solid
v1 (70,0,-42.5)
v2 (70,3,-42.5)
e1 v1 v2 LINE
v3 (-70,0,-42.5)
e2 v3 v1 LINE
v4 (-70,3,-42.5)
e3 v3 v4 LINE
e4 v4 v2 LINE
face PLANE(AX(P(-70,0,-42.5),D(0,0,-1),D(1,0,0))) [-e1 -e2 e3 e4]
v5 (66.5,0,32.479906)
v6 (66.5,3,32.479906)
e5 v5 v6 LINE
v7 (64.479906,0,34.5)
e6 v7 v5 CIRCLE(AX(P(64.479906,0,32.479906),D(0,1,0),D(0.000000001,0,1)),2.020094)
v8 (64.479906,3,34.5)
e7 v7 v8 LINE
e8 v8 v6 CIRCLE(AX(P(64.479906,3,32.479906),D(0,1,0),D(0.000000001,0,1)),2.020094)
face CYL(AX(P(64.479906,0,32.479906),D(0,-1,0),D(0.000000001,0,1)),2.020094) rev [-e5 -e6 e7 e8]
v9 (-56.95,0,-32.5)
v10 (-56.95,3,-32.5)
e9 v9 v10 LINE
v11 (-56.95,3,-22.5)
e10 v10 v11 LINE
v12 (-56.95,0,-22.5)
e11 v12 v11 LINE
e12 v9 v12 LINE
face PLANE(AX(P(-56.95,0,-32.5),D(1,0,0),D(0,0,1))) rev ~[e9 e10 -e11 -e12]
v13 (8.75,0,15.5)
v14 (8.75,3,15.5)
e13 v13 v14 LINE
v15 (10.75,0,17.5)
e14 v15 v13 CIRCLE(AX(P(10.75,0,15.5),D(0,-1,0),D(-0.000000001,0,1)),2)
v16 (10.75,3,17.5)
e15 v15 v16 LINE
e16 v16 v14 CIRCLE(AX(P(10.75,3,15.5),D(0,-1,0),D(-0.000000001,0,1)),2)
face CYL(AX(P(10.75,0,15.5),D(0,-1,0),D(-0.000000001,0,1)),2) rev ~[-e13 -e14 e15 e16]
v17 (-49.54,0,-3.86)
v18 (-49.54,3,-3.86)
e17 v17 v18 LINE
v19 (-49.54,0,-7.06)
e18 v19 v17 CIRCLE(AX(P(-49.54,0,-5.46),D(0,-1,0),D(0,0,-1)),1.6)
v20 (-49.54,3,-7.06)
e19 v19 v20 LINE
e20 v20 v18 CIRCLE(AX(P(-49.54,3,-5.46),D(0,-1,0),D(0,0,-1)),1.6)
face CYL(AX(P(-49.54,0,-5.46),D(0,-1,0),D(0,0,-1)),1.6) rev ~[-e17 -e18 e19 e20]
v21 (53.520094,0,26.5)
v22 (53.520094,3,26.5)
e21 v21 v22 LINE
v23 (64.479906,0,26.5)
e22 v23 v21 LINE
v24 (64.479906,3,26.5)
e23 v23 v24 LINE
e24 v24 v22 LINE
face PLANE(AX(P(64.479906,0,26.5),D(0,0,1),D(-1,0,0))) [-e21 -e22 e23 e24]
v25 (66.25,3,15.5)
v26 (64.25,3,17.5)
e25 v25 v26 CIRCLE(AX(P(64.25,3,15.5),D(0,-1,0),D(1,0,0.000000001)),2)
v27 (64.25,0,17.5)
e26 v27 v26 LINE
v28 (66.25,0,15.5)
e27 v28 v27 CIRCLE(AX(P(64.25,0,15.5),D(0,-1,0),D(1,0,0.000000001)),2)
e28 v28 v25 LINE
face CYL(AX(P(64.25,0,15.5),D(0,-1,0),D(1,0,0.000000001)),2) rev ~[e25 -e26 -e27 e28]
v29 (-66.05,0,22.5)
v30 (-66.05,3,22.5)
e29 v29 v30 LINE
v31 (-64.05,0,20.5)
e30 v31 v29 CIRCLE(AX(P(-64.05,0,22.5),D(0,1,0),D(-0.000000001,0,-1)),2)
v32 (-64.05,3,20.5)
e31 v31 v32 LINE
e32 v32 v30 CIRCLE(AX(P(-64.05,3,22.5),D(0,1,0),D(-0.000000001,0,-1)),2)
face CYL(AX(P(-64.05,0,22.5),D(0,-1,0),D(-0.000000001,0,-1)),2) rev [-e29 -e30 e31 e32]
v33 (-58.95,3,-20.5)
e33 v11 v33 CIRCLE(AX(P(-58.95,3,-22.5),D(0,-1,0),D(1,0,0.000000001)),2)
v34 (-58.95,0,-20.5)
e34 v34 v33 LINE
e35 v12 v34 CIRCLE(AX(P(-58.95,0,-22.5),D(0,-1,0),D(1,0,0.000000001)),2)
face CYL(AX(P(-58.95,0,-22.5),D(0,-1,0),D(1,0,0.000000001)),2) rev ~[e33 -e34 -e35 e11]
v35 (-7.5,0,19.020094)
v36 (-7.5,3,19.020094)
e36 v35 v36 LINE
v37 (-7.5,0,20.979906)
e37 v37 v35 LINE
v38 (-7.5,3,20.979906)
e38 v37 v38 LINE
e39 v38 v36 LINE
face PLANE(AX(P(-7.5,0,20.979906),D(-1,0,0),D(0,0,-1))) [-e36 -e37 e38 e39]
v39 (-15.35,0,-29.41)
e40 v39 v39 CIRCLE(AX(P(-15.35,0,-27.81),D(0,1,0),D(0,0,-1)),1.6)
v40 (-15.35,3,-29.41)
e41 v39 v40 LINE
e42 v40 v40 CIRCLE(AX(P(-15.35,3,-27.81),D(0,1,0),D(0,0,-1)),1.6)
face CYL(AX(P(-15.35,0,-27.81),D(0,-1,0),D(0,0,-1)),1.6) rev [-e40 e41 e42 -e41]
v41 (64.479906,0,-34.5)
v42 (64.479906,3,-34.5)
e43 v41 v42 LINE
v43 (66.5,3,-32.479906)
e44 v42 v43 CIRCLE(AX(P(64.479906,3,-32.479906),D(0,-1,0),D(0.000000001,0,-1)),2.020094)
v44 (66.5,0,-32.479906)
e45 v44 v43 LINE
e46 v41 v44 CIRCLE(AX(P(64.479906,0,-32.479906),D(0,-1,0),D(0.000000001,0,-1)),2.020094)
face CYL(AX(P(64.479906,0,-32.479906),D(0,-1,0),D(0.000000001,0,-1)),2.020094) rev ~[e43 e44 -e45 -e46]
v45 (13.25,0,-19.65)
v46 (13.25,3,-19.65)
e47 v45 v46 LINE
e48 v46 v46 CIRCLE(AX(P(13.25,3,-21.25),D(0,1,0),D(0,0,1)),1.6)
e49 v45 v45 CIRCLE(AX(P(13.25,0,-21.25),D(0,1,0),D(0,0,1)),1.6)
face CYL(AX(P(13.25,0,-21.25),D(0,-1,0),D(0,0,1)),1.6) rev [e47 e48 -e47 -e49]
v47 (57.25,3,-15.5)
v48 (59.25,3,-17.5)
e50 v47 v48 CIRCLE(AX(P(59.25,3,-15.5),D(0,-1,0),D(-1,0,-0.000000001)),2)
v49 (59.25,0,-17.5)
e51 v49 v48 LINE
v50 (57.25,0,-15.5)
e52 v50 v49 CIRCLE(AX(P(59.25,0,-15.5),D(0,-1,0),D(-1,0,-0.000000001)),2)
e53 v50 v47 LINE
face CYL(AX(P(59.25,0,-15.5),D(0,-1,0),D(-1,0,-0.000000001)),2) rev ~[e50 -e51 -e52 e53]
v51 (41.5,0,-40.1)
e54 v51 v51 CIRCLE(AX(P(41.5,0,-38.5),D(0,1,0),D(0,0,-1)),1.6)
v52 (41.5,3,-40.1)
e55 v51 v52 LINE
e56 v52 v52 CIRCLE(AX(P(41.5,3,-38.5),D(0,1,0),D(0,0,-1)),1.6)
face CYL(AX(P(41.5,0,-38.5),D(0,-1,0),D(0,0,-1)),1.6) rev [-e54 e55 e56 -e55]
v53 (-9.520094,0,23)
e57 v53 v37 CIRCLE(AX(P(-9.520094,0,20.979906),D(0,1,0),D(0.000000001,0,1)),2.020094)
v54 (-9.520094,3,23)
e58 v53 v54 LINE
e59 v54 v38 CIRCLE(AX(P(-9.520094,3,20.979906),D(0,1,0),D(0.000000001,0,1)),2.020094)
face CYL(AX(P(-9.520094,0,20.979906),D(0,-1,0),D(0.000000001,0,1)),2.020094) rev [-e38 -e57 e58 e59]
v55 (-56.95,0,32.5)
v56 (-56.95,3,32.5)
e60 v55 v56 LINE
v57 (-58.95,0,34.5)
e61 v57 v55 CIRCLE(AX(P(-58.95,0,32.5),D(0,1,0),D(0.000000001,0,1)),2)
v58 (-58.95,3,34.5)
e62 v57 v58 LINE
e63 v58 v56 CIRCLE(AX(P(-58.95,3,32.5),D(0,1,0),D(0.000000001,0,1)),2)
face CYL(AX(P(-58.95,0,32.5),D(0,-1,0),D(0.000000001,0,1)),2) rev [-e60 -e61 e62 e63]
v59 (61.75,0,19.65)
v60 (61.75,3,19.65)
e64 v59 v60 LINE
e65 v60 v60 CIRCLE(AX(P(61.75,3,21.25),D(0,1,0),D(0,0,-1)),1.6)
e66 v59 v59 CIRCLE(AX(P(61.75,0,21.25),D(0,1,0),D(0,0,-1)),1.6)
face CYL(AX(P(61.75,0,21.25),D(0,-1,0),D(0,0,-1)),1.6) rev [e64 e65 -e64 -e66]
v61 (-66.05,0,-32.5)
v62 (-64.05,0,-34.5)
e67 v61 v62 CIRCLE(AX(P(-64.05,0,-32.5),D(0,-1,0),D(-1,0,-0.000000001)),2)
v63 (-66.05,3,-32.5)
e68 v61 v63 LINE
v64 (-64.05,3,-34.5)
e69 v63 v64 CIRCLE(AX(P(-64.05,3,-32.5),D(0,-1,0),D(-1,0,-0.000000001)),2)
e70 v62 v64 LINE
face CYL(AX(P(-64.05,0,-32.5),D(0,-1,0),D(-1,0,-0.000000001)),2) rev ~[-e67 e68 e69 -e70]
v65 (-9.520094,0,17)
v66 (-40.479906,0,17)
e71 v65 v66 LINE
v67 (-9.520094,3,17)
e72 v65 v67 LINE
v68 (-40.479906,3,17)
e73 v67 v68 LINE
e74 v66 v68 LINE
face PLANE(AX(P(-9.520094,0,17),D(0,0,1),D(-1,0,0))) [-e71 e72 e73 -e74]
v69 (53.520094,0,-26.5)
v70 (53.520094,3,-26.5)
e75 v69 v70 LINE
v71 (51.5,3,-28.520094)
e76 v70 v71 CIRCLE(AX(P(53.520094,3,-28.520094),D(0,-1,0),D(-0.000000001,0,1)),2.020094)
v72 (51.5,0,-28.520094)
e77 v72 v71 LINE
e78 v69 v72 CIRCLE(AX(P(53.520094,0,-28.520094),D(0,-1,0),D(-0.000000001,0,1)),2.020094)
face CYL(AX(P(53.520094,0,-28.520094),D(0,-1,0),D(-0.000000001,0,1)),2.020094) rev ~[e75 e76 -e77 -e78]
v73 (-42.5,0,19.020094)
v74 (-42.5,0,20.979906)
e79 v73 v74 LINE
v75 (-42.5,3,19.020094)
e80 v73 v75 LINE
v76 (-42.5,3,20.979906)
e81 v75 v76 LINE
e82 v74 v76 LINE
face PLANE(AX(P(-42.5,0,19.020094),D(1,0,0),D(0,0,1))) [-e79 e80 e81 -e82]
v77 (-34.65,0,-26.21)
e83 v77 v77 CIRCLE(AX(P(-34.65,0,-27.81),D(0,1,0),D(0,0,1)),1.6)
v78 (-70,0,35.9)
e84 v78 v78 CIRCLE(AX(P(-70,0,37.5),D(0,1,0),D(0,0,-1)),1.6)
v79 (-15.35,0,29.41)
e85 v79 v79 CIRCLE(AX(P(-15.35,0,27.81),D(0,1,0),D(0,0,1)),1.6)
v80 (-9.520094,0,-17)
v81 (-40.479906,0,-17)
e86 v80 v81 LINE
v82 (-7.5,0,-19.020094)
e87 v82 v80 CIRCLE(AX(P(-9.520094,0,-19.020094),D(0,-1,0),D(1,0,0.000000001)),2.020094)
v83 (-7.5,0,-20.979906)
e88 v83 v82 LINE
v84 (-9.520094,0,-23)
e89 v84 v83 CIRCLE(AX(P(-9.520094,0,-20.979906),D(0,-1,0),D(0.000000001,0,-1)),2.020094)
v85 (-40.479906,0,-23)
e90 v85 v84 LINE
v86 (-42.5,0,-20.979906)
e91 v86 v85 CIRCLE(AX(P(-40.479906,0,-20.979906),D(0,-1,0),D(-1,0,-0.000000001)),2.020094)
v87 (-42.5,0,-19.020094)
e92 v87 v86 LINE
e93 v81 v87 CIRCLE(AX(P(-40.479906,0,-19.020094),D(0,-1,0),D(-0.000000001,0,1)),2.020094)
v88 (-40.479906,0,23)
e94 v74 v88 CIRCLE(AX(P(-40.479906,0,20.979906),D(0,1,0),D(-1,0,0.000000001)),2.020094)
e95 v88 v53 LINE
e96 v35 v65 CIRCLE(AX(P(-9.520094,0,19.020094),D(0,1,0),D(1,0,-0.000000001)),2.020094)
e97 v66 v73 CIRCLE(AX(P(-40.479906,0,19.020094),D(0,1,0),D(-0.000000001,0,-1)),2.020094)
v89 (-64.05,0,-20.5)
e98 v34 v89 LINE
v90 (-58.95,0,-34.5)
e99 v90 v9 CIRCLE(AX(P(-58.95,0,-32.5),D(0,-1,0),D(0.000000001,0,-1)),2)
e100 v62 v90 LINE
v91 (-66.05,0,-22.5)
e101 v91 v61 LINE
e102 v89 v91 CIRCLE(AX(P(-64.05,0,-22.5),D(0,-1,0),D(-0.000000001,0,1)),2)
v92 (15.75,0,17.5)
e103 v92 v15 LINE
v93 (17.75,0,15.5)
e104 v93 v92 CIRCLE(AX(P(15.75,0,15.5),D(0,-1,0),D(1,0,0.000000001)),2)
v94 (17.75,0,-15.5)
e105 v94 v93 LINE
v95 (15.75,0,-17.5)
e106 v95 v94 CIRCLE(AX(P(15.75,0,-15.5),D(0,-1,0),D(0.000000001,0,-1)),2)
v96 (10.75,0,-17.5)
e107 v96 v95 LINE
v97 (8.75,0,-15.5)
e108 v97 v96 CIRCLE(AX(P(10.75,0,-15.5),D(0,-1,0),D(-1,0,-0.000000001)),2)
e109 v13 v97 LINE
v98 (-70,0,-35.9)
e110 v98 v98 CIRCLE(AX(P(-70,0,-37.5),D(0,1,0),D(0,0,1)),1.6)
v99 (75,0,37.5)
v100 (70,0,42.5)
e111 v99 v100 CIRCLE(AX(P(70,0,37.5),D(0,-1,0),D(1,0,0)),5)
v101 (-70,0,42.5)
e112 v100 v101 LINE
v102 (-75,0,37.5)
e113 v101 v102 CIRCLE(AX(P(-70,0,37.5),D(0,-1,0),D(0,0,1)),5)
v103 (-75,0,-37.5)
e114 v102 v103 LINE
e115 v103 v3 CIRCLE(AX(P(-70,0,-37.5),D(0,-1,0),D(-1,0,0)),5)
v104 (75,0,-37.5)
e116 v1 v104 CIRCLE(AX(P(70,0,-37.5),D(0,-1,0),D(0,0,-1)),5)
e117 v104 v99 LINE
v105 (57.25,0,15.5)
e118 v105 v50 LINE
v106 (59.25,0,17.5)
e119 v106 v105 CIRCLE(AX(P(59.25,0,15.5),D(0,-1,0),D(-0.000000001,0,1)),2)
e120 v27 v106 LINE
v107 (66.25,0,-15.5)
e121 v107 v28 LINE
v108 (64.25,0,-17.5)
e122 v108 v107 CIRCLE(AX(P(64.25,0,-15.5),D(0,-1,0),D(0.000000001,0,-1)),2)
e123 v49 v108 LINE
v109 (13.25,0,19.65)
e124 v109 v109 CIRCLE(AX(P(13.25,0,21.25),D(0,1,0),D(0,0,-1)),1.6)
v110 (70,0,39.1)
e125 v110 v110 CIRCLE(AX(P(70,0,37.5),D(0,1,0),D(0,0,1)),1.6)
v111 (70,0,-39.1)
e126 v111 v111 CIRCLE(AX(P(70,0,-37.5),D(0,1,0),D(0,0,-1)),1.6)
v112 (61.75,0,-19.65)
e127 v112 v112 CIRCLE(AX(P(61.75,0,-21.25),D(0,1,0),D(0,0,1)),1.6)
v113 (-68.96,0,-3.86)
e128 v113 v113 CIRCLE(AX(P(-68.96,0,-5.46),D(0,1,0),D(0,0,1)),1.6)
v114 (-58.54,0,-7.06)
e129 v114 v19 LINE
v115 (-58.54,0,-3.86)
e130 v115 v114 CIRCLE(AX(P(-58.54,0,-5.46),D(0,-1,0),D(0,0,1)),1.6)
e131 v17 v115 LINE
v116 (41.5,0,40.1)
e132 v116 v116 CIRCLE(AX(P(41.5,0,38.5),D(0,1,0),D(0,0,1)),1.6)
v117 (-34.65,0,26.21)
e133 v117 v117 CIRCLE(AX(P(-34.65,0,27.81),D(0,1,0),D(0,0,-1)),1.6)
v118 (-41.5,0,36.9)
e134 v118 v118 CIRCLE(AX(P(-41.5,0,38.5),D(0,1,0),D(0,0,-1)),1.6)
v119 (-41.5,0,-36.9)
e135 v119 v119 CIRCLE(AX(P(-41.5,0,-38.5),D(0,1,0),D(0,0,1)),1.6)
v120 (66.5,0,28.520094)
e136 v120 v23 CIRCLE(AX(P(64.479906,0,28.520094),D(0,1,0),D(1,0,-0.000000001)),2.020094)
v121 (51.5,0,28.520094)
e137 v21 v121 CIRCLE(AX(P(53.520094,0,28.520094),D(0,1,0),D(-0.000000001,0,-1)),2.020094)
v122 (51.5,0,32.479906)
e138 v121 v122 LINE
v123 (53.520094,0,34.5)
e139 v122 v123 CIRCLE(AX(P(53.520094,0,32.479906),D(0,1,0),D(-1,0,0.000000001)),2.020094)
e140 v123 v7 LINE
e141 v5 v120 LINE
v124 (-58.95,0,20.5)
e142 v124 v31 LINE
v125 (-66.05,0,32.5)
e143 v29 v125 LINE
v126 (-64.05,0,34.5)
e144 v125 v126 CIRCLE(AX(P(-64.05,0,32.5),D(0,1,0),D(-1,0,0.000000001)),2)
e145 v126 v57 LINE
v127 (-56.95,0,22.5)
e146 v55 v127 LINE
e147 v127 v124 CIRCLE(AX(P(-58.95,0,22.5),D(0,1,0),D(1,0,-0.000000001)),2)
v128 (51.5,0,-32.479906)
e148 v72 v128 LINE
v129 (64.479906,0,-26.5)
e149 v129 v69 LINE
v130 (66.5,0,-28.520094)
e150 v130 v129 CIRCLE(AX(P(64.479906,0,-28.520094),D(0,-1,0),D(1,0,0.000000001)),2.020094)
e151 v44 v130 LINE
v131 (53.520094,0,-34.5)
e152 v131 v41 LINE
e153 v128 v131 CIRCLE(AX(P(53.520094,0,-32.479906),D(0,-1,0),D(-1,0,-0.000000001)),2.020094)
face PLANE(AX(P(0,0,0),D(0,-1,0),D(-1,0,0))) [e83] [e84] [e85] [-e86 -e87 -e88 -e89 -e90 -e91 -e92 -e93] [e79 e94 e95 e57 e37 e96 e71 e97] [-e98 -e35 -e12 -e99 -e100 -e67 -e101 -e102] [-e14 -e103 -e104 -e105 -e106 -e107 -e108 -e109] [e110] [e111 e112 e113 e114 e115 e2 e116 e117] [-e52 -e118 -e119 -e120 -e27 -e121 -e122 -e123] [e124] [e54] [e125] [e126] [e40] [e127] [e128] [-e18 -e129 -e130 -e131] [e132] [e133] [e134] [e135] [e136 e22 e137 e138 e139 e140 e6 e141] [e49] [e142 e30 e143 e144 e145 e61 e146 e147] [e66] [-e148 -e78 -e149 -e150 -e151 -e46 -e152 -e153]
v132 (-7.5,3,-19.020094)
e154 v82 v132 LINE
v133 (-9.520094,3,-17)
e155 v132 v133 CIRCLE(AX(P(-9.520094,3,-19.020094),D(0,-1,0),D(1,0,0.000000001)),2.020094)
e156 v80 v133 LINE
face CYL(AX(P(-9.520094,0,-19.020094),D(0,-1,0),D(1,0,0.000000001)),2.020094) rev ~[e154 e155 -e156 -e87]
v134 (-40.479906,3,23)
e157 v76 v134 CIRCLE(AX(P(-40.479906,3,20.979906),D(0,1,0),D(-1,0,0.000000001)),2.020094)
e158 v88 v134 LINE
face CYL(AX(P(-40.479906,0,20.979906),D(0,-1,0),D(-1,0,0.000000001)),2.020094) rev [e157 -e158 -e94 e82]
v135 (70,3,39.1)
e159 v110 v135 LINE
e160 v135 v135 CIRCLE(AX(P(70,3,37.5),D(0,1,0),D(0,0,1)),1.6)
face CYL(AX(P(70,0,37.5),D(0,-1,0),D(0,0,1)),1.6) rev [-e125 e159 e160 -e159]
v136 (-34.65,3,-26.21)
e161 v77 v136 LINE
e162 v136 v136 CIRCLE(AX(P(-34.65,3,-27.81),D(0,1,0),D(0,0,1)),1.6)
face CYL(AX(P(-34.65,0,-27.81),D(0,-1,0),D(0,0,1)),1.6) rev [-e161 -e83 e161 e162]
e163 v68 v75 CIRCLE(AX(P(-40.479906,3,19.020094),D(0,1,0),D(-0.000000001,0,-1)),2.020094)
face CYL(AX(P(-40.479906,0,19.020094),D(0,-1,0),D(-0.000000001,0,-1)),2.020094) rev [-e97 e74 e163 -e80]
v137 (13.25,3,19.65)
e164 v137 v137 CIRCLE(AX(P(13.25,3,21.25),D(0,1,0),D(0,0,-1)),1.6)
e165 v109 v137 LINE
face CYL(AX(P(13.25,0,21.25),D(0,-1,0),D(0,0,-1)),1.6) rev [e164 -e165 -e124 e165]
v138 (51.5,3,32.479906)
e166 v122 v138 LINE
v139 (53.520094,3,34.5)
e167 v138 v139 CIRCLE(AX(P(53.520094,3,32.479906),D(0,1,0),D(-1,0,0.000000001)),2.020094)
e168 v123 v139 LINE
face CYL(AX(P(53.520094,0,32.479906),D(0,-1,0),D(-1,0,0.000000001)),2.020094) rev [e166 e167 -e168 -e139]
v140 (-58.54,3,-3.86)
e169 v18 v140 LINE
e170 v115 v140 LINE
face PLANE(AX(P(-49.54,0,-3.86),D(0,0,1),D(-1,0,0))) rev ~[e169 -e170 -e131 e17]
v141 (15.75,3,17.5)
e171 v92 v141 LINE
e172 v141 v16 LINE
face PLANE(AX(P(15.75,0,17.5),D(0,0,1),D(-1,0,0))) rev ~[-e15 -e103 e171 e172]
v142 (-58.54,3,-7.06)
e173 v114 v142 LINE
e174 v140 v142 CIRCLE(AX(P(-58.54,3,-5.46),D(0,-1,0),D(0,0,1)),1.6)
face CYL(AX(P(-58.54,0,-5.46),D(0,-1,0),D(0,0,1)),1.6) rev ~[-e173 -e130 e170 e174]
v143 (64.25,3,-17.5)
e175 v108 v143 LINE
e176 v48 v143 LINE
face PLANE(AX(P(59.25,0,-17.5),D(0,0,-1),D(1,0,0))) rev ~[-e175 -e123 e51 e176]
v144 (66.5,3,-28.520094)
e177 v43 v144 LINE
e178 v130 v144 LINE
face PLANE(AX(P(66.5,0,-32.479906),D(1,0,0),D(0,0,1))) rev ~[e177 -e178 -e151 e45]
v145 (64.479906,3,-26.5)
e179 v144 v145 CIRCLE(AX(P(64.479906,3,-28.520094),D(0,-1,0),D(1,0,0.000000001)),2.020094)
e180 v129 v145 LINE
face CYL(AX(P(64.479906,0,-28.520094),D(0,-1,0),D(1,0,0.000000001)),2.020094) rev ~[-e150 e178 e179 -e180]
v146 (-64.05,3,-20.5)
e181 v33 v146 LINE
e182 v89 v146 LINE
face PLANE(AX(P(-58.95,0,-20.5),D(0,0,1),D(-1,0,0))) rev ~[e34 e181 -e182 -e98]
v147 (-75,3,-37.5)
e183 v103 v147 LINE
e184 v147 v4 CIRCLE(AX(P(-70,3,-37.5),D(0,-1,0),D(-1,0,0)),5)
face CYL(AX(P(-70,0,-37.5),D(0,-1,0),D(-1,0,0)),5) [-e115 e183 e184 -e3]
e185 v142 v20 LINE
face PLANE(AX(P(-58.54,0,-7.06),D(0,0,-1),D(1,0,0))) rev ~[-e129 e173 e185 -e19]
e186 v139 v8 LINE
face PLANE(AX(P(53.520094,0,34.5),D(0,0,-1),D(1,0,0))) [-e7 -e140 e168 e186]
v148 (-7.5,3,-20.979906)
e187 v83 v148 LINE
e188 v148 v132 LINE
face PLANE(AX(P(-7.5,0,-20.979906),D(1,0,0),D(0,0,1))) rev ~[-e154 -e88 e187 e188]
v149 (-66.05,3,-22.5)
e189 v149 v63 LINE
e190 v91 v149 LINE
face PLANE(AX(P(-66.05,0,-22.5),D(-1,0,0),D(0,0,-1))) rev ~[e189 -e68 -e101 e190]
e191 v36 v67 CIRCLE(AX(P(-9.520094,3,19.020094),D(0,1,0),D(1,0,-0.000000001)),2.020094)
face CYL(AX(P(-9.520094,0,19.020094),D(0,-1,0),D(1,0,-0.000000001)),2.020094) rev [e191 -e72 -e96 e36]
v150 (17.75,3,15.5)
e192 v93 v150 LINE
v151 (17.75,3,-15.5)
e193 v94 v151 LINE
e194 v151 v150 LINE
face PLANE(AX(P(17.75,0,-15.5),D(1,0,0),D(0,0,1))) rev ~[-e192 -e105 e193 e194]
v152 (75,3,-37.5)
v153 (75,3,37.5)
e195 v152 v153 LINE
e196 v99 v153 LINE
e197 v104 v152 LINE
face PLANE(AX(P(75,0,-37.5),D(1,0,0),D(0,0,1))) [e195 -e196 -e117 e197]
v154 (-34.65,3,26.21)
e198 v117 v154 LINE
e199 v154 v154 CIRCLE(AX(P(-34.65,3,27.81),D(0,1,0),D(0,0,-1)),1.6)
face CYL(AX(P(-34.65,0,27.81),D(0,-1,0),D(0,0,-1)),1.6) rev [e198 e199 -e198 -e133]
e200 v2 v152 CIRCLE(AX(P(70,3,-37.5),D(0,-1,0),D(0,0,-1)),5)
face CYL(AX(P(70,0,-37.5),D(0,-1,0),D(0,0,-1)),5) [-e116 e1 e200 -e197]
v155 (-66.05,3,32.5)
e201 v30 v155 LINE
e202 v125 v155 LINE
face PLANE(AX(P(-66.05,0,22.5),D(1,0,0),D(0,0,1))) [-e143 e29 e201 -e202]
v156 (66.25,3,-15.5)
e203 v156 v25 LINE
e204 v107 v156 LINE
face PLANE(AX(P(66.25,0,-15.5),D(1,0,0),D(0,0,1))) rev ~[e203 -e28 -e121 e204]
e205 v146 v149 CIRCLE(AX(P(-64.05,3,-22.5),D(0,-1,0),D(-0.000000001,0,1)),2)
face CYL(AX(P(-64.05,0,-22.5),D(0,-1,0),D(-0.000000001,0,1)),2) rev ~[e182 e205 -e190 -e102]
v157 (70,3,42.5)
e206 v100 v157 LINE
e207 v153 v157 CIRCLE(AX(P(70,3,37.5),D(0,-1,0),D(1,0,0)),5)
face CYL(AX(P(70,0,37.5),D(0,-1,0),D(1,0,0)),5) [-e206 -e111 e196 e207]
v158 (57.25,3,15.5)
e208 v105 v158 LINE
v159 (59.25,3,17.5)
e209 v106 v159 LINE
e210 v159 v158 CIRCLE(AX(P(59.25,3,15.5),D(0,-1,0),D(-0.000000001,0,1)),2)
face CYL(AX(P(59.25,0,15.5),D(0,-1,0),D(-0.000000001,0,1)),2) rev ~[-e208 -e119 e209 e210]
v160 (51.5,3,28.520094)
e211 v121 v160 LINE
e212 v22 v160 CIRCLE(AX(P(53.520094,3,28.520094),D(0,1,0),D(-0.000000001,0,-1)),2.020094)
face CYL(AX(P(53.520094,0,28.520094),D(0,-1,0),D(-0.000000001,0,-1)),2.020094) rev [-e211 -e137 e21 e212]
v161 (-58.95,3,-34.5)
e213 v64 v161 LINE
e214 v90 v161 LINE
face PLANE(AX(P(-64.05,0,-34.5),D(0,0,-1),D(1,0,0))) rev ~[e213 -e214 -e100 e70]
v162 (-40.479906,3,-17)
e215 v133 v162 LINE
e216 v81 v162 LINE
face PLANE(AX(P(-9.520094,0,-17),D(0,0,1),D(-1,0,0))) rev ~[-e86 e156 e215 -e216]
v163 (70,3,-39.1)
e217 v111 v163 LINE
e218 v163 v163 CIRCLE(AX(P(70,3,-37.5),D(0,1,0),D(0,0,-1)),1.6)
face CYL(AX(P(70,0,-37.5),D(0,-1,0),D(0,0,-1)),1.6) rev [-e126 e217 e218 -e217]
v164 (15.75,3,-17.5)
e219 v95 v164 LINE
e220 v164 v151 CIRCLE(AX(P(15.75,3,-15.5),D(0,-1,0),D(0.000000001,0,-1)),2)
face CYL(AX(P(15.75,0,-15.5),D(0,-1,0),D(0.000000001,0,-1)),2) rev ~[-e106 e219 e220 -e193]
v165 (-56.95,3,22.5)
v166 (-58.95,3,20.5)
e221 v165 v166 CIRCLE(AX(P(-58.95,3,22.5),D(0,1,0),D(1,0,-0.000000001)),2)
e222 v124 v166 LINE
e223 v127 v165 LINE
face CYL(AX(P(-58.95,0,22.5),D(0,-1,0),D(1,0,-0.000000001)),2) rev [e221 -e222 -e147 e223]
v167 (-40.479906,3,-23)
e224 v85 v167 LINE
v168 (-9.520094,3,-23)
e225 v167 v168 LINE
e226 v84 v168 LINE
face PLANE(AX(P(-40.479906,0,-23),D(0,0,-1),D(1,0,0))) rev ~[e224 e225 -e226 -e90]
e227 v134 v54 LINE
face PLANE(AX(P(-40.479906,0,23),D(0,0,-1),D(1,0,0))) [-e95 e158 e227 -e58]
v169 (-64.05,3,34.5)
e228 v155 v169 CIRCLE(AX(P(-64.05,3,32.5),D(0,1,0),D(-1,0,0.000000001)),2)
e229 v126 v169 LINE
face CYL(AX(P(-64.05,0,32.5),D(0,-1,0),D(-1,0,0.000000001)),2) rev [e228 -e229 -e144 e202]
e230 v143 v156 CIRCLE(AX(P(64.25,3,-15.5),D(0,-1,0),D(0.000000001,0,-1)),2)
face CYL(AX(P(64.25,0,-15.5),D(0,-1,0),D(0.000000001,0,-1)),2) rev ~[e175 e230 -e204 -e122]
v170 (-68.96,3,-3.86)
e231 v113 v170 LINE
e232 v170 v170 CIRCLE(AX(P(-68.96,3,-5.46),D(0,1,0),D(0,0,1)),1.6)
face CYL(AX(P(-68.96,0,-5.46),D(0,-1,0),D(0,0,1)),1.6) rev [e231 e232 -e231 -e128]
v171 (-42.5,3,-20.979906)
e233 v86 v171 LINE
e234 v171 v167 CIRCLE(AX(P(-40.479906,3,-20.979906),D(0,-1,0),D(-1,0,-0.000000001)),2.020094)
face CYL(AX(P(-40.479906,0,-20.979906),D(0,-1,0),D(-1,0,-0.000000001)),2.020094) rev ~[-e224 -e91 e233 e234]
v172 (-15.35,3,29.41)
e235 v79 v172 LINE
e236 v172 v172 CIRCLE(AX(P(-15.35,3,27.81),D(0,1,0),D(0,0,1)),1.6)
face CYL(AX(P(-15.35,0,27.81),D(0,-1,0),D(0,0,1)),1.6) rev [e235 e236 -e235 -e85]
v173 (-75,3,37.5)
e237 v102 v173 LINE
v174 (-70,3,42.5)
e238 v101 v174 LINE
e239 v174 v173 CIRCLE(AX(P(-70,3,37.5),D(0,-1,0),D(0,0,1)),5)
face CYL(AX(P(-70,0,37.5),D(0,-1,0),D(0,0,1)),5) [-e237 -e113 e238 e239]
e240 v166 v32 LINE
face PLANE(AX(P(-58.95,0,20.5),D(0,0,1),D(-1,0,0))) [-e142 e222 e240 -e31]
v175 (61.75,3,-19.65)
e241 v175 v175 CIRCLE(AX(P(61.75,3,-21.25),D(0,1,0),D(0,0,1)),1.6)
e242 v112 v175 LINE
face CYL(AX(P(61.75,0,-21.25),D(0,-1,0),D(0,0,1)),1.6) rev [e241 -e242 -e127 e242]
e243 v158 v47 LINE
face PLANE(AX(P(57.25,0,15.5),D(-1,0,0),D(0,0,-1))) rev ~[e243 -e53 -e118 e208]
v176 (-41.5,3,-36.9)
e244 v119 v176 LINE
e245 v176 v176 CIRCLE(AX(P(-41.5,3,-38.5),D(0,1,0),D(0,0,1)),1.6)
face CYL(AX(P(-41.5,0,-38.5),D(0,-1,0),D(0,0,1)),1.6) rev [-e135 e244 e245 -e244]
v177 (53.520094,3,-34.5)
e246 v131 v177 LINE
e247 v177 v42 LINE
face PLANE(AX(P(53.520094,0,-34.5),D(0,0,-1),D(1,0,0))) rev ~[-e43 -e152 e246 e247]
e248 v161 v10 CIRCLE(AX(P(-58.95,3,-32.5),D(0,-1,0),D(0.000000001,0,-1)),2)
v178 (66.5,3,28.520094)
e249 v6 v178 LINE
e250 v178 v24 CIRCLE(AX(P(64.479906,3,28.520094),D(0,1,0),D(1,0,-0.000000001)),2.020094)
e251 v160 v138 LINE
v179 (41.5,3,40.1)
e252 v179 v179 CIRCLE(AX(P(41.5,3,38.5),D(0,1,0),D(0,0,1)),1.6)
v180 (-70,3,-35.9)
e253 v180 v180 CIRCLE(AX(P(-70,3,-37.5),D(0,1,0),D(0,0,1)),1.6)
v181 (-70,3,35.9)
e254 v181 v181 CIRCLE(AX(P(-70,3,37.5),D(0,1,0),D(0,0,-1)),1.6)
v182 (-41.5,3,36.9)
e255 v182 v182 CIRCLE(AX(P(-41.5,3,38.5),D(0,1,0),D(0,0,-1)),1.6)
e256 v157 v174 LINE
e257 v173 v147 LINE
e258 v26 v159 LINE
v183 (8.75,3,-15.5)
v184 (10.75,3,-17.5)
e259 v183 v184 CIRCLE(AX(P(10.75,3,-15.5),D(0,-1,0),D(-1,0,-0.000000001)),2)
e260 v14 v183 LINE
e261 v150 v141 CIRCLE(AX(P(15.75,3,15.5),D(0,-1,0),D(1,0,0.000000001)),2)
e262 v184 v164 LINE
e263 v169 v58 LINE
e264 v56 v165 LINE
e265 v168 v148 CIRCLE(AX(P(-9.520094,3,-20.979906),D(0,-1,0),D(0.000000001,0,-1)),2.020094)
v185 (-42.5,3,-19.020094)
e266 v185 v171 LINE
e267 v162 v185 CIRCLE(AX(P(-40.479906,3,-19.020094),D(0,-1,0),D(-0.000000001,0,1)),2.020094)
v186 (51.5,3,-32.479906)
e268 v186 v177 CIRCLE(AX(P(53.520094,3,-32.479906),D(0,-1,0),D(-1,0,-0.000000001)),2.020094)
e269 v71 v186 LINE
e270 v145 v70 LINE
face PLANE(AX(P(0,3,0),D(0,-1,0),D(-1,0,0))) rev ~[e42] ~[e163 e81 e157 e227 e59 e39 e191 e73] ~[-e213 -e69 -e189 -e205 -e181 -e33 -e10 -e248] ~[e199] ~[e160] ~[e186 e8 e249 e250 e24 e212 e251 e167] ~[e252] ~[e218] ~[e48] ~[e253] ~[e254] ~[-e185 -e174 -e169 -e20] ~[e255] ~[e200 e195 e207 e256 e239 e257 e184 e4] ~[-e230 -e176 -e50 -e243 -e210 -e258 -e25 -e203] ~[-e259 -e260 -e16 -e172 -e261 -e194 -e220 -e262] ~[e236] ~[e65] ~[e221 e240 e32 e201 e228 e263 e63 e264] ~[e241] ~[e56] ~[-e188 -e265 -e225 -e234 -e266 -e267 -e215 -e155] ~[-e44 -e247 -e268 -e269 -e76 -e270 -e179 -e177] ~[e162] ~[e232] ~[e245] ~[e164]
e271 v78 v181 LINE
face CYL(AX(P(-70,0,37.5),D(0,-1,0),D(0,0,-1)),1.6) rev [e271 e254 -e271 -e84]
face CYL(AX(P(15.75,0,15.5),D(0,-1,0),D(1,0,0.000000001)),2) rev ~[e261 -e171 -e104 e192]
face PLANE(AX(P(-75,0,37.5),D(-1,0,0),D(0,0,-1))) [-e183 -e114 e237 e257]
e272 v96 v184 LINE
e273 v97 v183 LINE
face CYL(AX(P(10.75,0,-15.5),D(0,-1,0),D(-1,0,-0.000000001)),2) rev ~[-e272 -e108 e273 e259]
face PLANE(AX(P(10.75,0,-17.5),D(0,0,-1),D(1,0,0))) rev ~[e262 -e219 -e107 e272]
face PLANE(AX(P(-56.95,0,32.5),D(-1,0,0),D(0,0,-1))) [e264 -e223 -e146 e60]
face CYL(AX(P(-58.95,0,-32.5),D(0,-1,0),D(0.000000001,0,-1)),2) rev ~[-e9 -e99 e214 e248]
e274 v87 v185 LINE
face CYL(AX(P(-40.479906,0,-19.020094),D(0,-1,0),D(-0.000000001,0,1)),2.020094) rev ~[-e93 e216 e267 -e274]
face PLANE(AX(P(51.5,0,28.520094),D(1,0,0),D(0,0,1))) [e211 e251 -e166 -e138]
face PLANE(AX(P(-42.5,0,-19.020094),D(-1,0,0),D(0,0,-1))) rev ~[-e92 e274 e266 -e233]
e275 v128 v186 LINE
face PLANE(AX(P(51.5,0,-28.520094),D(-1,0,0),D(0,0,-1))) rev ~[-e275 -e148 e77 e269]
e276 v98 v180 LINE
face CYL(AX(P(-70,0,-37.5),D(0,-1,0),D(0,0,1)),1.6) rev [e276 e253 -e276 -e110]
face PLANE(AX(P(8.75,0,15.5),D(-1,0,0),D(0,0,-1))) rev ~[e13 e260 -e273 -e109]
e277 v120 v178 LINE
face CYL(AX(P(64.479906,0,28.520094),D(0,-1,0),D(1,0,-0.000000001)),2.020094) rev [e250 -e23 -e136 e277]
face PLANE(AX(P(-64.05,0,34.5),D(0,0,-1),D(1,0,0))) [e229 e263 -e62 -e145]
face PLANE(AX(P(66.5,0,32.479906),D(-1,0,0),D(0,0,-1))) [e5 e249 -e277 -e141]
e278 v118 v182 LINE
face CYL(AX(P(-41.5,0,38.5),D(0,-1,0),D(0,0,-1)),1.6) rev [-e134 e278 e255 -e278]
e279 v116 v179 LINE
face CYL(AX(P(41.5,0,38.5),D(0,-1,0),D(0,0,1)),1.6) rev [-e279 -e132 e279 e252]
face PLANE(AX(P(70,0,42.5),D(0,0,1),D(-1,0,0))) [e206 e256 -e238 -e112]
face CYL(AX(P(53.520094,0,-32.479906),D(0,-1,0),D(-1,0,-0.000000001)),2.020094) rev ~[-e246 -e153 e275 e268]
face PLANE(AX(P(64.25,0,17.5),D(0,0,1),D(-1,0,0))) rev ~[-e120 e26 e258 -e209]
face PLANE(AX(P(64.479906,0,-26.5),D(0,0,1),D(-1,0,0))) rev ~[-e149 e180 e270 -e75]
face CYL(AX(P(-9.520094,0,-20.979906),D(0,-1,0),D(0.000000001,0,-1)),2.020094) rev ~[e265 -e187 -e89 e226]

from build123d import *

# Parameters (mm, degrees)
SKETCH1_R           = 1.6
BOSS_EXTRUDE1_DEPTH = 3


with BuildPart() as part:
    # Sketch1 → Boss-Extrude1 (new body)
    with BuildSketch(Plane(origin=(0, 0, 0), x_dir=(1, 0, 0), z_dir=(0, 1, 0))):
        with BuildLine():
            Line((-70, 42.5), (70, 42.5))
            ThreePointArc((70, 42.5), (73.535533906, 41.035533906), (75, 37.5))
            Line((75, 37.5), (75, -37.5))
            ThreePointArc((75, -37.5), (73.535533906, -41.035533906), (70, -42.5))
            Line((70, -42.5), (-70, -42.5))
            ThreePointArc((-70, -42.5), (-73.535533906, -41.035533906), (-75, -37.5))
            Line((-75, -37.5), (-75, 37.5))
            ThreePointArc((-75, 37.5), (-73.535533906, 41.035533906), (-70, 42.5))
        make_face()
        with Locations(Location((13.25, 21.25, 0), (0, 0, 270))):
            Circle(SKETCH1_R, mode=Mode.SUBTRACT)
        with Locations(Location((-70, 37.5, 0), (0, 0, 270))):
            Circle(SKETCH1_R, mode=Mode.SUBTRACT)
        with Locations(Location((-70, -37.5, 0), (0, 0, 90))):
            Circle(SKETCH1_R, mode=Mode.SUBTRACT)
        with Locations(Location((70, -37.5, 0), (0, 0, 270))):
            Circle(SKETCH1_R, mode=Mode.SUBTRACT)
        with Locations(Location((70, 37.5, 0), (0, 0, 90))):
            Circle(SKETCH1_R, mode=Mode.SUBTRACT)
        with Locations(Location((61.75, 21.25, 0), (0, 0, 270))):
            Circle(SKETCH1_R, mode=Mode.SUBTRACT)
        with Locations(Location((13.25, -21.25, 0), (0, 0, 90))):
            Circle(SKETCH1_R, mode=Mode.SUBTRACT)
        with Locations(Location((61.75, -21.25, 0), (0, 0, 90))):
            Circle(SKETCH1_R, mode=Mode.SUBTRACT)
        with Locations(Location((-34.65, 27.81, 0), (0, 0, 270))):
            Circle(SKETCH1_R, mode=Mode.SUBTRACT)
        with Locations(Location((-34.65, -27.81, 0), (0, 0, 90))):
            Circle(SKETCH1_R, mode=Mode.SUBTRACT)
        with Locations(Location((-15.35, -27.81, 0), (0, 0, 270))):
            Circle(SKETCH1_R, mode=Mode.SUBTRACT)
        with Locations(Location((-15.35, 27.81, 0), (0, 0, 90))):
            Circle(SKETCH1_R, mode=Mode.SUBTRACT)
        with Locations(Location((-41.5, 38.5, 0), (0, 0, 270))):
            Circle(SKETCH1_R, mode=Mode.SUBTRACT)
        with Locations(Location((-41.5, -38.5, 0), (0, 0, 90))):
            Circle(SKETCH1_R, mode=Mode.SUBTRACT)
        with Locations(Location((41.5, -38.5, 0), (0, 0, 270))):
            Circle(SKETCH1_R, mode=Mode.SUBTRACT)
        with Locations(Location((41.5, 38.5, 0), (0, 0, 90))):
            Circle(SKETCH1_R, mode=Mode.SUBTRACT)
        with Locations(Location((-68.96, 5.46, 0), (0, 0, 270))):
            Circle(SKETCH1_R, mode=Mode.SUBTRACT)
        with BuildLine():
            Line((10.75, 17.5), (15.75, 17.5))
            ThreePointArc((15.75, 17.5), (17.164213562, 16.914213562), (17.75, 15.5))
            Line((17.75, 15.5), (17.75, -15.5))
            ThreePointArc((17.75, -15.5), (17.164213562, -16.914213562), (15.75, -17.5))
            Line((15.75, -17.5), (10.75, -17.5))
            ThreePointArc((10.75, -17.5), (9.335786438, -16.914213562), (8.75, -15.5))
            Line((8.75, -15.5), (8.75, 15.5))
            ThreePointArc((8.75, 15.5), (9.335786438, 16.914213562), (10.75, 17.5))
        make_face(mode=Mode.SUBTRACT)
        with BuildLine():
            Line((64.25, -17.5), (59.25, -17.5))
            ThreePointArc((59.25, -17.5), (57.835786438, -16.914213562), (57.25, -15.5))
            Line((57.25, -15.5), (57.25, 15.5))
            ThreePointArc((57.25, 15.5), (57.835786438, 16.914213562), (59.25, 17.5))
            Line((59.25, 17.5), (64.25, 17.5))
            ThreePointArc((64.25, 17.5), (65.664213562, 16.914213562), (66.25, 15.5))
            Line((66.25, 15.5), (66.25, -15.5))
            ThreePointArc((66.25, -15.5), (65.664213562, -16.914213562), (64.25, -17.5))
        make_face(mode=Mode.SUBTRACT)
        with BuildLine():
            Line((-58.54, 7.06), (-49.54, 7.06))
            ThreePointArc((-49.54, 7.06), (-47.94, 5.46), (-49.54, 3.86))
            Line((-49.54, 3.86), (-58.54, 3.86))
            ThreePointArc((-58.54, 3.86), (-60.14, 5.46), (-58.54, 7.06))
        make_face(mode=Mode.SUBTRACT)
        with BuildLine():
            Line((-64.05, -34.5), (-58.95, -34.5))
            ThreePointArc((-58.95, -34.5), (-57.535786438, -33.914213562), (-56.95, -32.5))
            Line((-56.95, -32.5), (-56.95, -22.5))
            ThreePointArc((-56.95, -22.5), (-57.535786438, -21.085786438), (-58.95, -20.5))
            Line((-58.95, -20.5), (-64.05, -20.5))
            ThreePointArc((-64.05, -20.5), (-65.464213562, -21.085786438), (-66.05, -22.5))
            Line((-66.05, -22.5), (-66.05, -32.5))
            ThreePointArc((-66.05, -32.5), (-65.464213562, -33.914213562), (-64.05, -34.5))
        make_face(mode=Mode.SUBTRACT)
        with BuildLine():
            Line((-64.05, 34.5), (-58.95, 34.5))
            ThreePointArc((-58.95, 34.5), (-57.535786438, 33.914213562), (-56.95, 32.5))
            Line((-56.95, 32.5), (-56.95, 22.5))
            ThreePointArc((-56.95, 22.5), (-57.535786438, 21.085786438), (-58.95, 20.5))
            Line((-58.95, 20.5), (-64.05, 20.5))
            ThreePointArc((-64.05, 20.5), (-65.464213562, 21.085786438), (-66.05, 22.5))
            Line((-66.05, 22.5), (-66.05, 32.5))
            ThreePointArc((-66.05, 32.5), (-65.464213562, 33.914213562), (-64.05, 34.5))
        make_face(mode=Mode.SUBTRACT)
        with BuildLine():
            Line((53.520093719, -34.5), (64.479906281, -34.5))
            ThreePointArc((64.479906281, -34.5), (65.908328248, -33.908328248), (66.5, -32.479906281))
            Line((66.5, -32.479906281), (66.5, -28.520093719))
            ThreePointArc((66.5, -28.520093719), (65.908328248, -27.091671752), (64.479906281, -26.5))
            Line((64.479906281, -26.5), (53.520093719, -26.5))
            ThreePointArc((53.520093719, -26.5), (52.091671752, -27.091671752), (51.5, -28.520093719))
            Line((51.5, -28.520093719), (51.5, -32.479906281))
            ThreePointArc((51.5, -32.479906281), (52.091671752, -33.908328248), (53.520093719, -34.5))
        make_face(mode=Mode.SUBTRACT)
        with BuildLine():
            Line((53.520093719, 34.5), (64.479906281, 34.5))
            ThreePointArc((64.479906281, 34.5), (65.908328248, 33.908328248), (66.5, 32.479906281))
            Line((66.5, 32.479906281), (66.5, 28.520093719))
            ThreePointArc((66.5, 28.520093719), (65.908328248, 27.091671752), (64.479906281, 26.5))
            Line((64.479906281, 26.5), (53.520093719, 26.5))
            ThreePointArc((53.520093719, 26.5), (52.091671752, 27.091671752), (51.5, 28.520093719))
            Line((51.5, 28.520093719), (51.5, 32.479906281))
            ThreePointArc((51.5, 32.479906281), (52.091671752, 33.908328248), (53.520093719, 34.5))
        make_face(mode=Mode.SUBTRACT)
        with BuildLine():
            Line((-7.5, -20.979906281), (-7.5, -19.020093719))
            ThreePointArc((-7.5, -19.020093719), (-8.091671752, -17.591671752), (-9.520093719, -17))
            Line((-9.520093719, -17), (-40.479906281, -17))
            ThreePointArc((-40.479906281, -17), (-41.908328248, -17.591671752), (-42.5, -19.020093719))
            Line((-42.5, -19.020093719), (-42.5, -20.979906281))
            ThreePointArc((-42.5, -20.979906281), (-41.908328248, -22.408328248), (-40.479906281, -23))
            Line((-40.479906281, -23), (-9.520093719, -23))
            ThreePointArc((-9.520093719, -23), (-8.091671752, -22.408328248), (-7.5, -20.979906281))
        make_face(mode=Mode.SUBTRACT)
        with BuildLine():
            Line((-40.479906281, 23), (-9.520093719, 23))
            ThreePointArc((-9.520093719, 23), (-8.091671752, 22.408328248), (-7.5, 20.979906281))
            Line((-7.5, 20.979906281), (-7.5, 19.020093719))
            ThreePointArc((-7.5, 19.020093719), (-8.091671752, 17.591671752), (-9.520093719, 17))
            Line((-9.520093719, 17), (-40.479906281, 17))
            ThreePointArc((-40.479906281, 17), (-41.908328248, 17.591671752), (-42.5, 19.020093719))
            Line((-42.5, 19.020093719), (-42.5, 20.979906281))
            ThreePointArc((-42.5, 20.979906281), (-41.908328248, 22.408328248), (-40.479906281, 23))
        make_face(mode=Mode.SUBTRACT)
    extrude(amount=BOSS_EXTRUDE1_DEPTH)


solid = part.part
